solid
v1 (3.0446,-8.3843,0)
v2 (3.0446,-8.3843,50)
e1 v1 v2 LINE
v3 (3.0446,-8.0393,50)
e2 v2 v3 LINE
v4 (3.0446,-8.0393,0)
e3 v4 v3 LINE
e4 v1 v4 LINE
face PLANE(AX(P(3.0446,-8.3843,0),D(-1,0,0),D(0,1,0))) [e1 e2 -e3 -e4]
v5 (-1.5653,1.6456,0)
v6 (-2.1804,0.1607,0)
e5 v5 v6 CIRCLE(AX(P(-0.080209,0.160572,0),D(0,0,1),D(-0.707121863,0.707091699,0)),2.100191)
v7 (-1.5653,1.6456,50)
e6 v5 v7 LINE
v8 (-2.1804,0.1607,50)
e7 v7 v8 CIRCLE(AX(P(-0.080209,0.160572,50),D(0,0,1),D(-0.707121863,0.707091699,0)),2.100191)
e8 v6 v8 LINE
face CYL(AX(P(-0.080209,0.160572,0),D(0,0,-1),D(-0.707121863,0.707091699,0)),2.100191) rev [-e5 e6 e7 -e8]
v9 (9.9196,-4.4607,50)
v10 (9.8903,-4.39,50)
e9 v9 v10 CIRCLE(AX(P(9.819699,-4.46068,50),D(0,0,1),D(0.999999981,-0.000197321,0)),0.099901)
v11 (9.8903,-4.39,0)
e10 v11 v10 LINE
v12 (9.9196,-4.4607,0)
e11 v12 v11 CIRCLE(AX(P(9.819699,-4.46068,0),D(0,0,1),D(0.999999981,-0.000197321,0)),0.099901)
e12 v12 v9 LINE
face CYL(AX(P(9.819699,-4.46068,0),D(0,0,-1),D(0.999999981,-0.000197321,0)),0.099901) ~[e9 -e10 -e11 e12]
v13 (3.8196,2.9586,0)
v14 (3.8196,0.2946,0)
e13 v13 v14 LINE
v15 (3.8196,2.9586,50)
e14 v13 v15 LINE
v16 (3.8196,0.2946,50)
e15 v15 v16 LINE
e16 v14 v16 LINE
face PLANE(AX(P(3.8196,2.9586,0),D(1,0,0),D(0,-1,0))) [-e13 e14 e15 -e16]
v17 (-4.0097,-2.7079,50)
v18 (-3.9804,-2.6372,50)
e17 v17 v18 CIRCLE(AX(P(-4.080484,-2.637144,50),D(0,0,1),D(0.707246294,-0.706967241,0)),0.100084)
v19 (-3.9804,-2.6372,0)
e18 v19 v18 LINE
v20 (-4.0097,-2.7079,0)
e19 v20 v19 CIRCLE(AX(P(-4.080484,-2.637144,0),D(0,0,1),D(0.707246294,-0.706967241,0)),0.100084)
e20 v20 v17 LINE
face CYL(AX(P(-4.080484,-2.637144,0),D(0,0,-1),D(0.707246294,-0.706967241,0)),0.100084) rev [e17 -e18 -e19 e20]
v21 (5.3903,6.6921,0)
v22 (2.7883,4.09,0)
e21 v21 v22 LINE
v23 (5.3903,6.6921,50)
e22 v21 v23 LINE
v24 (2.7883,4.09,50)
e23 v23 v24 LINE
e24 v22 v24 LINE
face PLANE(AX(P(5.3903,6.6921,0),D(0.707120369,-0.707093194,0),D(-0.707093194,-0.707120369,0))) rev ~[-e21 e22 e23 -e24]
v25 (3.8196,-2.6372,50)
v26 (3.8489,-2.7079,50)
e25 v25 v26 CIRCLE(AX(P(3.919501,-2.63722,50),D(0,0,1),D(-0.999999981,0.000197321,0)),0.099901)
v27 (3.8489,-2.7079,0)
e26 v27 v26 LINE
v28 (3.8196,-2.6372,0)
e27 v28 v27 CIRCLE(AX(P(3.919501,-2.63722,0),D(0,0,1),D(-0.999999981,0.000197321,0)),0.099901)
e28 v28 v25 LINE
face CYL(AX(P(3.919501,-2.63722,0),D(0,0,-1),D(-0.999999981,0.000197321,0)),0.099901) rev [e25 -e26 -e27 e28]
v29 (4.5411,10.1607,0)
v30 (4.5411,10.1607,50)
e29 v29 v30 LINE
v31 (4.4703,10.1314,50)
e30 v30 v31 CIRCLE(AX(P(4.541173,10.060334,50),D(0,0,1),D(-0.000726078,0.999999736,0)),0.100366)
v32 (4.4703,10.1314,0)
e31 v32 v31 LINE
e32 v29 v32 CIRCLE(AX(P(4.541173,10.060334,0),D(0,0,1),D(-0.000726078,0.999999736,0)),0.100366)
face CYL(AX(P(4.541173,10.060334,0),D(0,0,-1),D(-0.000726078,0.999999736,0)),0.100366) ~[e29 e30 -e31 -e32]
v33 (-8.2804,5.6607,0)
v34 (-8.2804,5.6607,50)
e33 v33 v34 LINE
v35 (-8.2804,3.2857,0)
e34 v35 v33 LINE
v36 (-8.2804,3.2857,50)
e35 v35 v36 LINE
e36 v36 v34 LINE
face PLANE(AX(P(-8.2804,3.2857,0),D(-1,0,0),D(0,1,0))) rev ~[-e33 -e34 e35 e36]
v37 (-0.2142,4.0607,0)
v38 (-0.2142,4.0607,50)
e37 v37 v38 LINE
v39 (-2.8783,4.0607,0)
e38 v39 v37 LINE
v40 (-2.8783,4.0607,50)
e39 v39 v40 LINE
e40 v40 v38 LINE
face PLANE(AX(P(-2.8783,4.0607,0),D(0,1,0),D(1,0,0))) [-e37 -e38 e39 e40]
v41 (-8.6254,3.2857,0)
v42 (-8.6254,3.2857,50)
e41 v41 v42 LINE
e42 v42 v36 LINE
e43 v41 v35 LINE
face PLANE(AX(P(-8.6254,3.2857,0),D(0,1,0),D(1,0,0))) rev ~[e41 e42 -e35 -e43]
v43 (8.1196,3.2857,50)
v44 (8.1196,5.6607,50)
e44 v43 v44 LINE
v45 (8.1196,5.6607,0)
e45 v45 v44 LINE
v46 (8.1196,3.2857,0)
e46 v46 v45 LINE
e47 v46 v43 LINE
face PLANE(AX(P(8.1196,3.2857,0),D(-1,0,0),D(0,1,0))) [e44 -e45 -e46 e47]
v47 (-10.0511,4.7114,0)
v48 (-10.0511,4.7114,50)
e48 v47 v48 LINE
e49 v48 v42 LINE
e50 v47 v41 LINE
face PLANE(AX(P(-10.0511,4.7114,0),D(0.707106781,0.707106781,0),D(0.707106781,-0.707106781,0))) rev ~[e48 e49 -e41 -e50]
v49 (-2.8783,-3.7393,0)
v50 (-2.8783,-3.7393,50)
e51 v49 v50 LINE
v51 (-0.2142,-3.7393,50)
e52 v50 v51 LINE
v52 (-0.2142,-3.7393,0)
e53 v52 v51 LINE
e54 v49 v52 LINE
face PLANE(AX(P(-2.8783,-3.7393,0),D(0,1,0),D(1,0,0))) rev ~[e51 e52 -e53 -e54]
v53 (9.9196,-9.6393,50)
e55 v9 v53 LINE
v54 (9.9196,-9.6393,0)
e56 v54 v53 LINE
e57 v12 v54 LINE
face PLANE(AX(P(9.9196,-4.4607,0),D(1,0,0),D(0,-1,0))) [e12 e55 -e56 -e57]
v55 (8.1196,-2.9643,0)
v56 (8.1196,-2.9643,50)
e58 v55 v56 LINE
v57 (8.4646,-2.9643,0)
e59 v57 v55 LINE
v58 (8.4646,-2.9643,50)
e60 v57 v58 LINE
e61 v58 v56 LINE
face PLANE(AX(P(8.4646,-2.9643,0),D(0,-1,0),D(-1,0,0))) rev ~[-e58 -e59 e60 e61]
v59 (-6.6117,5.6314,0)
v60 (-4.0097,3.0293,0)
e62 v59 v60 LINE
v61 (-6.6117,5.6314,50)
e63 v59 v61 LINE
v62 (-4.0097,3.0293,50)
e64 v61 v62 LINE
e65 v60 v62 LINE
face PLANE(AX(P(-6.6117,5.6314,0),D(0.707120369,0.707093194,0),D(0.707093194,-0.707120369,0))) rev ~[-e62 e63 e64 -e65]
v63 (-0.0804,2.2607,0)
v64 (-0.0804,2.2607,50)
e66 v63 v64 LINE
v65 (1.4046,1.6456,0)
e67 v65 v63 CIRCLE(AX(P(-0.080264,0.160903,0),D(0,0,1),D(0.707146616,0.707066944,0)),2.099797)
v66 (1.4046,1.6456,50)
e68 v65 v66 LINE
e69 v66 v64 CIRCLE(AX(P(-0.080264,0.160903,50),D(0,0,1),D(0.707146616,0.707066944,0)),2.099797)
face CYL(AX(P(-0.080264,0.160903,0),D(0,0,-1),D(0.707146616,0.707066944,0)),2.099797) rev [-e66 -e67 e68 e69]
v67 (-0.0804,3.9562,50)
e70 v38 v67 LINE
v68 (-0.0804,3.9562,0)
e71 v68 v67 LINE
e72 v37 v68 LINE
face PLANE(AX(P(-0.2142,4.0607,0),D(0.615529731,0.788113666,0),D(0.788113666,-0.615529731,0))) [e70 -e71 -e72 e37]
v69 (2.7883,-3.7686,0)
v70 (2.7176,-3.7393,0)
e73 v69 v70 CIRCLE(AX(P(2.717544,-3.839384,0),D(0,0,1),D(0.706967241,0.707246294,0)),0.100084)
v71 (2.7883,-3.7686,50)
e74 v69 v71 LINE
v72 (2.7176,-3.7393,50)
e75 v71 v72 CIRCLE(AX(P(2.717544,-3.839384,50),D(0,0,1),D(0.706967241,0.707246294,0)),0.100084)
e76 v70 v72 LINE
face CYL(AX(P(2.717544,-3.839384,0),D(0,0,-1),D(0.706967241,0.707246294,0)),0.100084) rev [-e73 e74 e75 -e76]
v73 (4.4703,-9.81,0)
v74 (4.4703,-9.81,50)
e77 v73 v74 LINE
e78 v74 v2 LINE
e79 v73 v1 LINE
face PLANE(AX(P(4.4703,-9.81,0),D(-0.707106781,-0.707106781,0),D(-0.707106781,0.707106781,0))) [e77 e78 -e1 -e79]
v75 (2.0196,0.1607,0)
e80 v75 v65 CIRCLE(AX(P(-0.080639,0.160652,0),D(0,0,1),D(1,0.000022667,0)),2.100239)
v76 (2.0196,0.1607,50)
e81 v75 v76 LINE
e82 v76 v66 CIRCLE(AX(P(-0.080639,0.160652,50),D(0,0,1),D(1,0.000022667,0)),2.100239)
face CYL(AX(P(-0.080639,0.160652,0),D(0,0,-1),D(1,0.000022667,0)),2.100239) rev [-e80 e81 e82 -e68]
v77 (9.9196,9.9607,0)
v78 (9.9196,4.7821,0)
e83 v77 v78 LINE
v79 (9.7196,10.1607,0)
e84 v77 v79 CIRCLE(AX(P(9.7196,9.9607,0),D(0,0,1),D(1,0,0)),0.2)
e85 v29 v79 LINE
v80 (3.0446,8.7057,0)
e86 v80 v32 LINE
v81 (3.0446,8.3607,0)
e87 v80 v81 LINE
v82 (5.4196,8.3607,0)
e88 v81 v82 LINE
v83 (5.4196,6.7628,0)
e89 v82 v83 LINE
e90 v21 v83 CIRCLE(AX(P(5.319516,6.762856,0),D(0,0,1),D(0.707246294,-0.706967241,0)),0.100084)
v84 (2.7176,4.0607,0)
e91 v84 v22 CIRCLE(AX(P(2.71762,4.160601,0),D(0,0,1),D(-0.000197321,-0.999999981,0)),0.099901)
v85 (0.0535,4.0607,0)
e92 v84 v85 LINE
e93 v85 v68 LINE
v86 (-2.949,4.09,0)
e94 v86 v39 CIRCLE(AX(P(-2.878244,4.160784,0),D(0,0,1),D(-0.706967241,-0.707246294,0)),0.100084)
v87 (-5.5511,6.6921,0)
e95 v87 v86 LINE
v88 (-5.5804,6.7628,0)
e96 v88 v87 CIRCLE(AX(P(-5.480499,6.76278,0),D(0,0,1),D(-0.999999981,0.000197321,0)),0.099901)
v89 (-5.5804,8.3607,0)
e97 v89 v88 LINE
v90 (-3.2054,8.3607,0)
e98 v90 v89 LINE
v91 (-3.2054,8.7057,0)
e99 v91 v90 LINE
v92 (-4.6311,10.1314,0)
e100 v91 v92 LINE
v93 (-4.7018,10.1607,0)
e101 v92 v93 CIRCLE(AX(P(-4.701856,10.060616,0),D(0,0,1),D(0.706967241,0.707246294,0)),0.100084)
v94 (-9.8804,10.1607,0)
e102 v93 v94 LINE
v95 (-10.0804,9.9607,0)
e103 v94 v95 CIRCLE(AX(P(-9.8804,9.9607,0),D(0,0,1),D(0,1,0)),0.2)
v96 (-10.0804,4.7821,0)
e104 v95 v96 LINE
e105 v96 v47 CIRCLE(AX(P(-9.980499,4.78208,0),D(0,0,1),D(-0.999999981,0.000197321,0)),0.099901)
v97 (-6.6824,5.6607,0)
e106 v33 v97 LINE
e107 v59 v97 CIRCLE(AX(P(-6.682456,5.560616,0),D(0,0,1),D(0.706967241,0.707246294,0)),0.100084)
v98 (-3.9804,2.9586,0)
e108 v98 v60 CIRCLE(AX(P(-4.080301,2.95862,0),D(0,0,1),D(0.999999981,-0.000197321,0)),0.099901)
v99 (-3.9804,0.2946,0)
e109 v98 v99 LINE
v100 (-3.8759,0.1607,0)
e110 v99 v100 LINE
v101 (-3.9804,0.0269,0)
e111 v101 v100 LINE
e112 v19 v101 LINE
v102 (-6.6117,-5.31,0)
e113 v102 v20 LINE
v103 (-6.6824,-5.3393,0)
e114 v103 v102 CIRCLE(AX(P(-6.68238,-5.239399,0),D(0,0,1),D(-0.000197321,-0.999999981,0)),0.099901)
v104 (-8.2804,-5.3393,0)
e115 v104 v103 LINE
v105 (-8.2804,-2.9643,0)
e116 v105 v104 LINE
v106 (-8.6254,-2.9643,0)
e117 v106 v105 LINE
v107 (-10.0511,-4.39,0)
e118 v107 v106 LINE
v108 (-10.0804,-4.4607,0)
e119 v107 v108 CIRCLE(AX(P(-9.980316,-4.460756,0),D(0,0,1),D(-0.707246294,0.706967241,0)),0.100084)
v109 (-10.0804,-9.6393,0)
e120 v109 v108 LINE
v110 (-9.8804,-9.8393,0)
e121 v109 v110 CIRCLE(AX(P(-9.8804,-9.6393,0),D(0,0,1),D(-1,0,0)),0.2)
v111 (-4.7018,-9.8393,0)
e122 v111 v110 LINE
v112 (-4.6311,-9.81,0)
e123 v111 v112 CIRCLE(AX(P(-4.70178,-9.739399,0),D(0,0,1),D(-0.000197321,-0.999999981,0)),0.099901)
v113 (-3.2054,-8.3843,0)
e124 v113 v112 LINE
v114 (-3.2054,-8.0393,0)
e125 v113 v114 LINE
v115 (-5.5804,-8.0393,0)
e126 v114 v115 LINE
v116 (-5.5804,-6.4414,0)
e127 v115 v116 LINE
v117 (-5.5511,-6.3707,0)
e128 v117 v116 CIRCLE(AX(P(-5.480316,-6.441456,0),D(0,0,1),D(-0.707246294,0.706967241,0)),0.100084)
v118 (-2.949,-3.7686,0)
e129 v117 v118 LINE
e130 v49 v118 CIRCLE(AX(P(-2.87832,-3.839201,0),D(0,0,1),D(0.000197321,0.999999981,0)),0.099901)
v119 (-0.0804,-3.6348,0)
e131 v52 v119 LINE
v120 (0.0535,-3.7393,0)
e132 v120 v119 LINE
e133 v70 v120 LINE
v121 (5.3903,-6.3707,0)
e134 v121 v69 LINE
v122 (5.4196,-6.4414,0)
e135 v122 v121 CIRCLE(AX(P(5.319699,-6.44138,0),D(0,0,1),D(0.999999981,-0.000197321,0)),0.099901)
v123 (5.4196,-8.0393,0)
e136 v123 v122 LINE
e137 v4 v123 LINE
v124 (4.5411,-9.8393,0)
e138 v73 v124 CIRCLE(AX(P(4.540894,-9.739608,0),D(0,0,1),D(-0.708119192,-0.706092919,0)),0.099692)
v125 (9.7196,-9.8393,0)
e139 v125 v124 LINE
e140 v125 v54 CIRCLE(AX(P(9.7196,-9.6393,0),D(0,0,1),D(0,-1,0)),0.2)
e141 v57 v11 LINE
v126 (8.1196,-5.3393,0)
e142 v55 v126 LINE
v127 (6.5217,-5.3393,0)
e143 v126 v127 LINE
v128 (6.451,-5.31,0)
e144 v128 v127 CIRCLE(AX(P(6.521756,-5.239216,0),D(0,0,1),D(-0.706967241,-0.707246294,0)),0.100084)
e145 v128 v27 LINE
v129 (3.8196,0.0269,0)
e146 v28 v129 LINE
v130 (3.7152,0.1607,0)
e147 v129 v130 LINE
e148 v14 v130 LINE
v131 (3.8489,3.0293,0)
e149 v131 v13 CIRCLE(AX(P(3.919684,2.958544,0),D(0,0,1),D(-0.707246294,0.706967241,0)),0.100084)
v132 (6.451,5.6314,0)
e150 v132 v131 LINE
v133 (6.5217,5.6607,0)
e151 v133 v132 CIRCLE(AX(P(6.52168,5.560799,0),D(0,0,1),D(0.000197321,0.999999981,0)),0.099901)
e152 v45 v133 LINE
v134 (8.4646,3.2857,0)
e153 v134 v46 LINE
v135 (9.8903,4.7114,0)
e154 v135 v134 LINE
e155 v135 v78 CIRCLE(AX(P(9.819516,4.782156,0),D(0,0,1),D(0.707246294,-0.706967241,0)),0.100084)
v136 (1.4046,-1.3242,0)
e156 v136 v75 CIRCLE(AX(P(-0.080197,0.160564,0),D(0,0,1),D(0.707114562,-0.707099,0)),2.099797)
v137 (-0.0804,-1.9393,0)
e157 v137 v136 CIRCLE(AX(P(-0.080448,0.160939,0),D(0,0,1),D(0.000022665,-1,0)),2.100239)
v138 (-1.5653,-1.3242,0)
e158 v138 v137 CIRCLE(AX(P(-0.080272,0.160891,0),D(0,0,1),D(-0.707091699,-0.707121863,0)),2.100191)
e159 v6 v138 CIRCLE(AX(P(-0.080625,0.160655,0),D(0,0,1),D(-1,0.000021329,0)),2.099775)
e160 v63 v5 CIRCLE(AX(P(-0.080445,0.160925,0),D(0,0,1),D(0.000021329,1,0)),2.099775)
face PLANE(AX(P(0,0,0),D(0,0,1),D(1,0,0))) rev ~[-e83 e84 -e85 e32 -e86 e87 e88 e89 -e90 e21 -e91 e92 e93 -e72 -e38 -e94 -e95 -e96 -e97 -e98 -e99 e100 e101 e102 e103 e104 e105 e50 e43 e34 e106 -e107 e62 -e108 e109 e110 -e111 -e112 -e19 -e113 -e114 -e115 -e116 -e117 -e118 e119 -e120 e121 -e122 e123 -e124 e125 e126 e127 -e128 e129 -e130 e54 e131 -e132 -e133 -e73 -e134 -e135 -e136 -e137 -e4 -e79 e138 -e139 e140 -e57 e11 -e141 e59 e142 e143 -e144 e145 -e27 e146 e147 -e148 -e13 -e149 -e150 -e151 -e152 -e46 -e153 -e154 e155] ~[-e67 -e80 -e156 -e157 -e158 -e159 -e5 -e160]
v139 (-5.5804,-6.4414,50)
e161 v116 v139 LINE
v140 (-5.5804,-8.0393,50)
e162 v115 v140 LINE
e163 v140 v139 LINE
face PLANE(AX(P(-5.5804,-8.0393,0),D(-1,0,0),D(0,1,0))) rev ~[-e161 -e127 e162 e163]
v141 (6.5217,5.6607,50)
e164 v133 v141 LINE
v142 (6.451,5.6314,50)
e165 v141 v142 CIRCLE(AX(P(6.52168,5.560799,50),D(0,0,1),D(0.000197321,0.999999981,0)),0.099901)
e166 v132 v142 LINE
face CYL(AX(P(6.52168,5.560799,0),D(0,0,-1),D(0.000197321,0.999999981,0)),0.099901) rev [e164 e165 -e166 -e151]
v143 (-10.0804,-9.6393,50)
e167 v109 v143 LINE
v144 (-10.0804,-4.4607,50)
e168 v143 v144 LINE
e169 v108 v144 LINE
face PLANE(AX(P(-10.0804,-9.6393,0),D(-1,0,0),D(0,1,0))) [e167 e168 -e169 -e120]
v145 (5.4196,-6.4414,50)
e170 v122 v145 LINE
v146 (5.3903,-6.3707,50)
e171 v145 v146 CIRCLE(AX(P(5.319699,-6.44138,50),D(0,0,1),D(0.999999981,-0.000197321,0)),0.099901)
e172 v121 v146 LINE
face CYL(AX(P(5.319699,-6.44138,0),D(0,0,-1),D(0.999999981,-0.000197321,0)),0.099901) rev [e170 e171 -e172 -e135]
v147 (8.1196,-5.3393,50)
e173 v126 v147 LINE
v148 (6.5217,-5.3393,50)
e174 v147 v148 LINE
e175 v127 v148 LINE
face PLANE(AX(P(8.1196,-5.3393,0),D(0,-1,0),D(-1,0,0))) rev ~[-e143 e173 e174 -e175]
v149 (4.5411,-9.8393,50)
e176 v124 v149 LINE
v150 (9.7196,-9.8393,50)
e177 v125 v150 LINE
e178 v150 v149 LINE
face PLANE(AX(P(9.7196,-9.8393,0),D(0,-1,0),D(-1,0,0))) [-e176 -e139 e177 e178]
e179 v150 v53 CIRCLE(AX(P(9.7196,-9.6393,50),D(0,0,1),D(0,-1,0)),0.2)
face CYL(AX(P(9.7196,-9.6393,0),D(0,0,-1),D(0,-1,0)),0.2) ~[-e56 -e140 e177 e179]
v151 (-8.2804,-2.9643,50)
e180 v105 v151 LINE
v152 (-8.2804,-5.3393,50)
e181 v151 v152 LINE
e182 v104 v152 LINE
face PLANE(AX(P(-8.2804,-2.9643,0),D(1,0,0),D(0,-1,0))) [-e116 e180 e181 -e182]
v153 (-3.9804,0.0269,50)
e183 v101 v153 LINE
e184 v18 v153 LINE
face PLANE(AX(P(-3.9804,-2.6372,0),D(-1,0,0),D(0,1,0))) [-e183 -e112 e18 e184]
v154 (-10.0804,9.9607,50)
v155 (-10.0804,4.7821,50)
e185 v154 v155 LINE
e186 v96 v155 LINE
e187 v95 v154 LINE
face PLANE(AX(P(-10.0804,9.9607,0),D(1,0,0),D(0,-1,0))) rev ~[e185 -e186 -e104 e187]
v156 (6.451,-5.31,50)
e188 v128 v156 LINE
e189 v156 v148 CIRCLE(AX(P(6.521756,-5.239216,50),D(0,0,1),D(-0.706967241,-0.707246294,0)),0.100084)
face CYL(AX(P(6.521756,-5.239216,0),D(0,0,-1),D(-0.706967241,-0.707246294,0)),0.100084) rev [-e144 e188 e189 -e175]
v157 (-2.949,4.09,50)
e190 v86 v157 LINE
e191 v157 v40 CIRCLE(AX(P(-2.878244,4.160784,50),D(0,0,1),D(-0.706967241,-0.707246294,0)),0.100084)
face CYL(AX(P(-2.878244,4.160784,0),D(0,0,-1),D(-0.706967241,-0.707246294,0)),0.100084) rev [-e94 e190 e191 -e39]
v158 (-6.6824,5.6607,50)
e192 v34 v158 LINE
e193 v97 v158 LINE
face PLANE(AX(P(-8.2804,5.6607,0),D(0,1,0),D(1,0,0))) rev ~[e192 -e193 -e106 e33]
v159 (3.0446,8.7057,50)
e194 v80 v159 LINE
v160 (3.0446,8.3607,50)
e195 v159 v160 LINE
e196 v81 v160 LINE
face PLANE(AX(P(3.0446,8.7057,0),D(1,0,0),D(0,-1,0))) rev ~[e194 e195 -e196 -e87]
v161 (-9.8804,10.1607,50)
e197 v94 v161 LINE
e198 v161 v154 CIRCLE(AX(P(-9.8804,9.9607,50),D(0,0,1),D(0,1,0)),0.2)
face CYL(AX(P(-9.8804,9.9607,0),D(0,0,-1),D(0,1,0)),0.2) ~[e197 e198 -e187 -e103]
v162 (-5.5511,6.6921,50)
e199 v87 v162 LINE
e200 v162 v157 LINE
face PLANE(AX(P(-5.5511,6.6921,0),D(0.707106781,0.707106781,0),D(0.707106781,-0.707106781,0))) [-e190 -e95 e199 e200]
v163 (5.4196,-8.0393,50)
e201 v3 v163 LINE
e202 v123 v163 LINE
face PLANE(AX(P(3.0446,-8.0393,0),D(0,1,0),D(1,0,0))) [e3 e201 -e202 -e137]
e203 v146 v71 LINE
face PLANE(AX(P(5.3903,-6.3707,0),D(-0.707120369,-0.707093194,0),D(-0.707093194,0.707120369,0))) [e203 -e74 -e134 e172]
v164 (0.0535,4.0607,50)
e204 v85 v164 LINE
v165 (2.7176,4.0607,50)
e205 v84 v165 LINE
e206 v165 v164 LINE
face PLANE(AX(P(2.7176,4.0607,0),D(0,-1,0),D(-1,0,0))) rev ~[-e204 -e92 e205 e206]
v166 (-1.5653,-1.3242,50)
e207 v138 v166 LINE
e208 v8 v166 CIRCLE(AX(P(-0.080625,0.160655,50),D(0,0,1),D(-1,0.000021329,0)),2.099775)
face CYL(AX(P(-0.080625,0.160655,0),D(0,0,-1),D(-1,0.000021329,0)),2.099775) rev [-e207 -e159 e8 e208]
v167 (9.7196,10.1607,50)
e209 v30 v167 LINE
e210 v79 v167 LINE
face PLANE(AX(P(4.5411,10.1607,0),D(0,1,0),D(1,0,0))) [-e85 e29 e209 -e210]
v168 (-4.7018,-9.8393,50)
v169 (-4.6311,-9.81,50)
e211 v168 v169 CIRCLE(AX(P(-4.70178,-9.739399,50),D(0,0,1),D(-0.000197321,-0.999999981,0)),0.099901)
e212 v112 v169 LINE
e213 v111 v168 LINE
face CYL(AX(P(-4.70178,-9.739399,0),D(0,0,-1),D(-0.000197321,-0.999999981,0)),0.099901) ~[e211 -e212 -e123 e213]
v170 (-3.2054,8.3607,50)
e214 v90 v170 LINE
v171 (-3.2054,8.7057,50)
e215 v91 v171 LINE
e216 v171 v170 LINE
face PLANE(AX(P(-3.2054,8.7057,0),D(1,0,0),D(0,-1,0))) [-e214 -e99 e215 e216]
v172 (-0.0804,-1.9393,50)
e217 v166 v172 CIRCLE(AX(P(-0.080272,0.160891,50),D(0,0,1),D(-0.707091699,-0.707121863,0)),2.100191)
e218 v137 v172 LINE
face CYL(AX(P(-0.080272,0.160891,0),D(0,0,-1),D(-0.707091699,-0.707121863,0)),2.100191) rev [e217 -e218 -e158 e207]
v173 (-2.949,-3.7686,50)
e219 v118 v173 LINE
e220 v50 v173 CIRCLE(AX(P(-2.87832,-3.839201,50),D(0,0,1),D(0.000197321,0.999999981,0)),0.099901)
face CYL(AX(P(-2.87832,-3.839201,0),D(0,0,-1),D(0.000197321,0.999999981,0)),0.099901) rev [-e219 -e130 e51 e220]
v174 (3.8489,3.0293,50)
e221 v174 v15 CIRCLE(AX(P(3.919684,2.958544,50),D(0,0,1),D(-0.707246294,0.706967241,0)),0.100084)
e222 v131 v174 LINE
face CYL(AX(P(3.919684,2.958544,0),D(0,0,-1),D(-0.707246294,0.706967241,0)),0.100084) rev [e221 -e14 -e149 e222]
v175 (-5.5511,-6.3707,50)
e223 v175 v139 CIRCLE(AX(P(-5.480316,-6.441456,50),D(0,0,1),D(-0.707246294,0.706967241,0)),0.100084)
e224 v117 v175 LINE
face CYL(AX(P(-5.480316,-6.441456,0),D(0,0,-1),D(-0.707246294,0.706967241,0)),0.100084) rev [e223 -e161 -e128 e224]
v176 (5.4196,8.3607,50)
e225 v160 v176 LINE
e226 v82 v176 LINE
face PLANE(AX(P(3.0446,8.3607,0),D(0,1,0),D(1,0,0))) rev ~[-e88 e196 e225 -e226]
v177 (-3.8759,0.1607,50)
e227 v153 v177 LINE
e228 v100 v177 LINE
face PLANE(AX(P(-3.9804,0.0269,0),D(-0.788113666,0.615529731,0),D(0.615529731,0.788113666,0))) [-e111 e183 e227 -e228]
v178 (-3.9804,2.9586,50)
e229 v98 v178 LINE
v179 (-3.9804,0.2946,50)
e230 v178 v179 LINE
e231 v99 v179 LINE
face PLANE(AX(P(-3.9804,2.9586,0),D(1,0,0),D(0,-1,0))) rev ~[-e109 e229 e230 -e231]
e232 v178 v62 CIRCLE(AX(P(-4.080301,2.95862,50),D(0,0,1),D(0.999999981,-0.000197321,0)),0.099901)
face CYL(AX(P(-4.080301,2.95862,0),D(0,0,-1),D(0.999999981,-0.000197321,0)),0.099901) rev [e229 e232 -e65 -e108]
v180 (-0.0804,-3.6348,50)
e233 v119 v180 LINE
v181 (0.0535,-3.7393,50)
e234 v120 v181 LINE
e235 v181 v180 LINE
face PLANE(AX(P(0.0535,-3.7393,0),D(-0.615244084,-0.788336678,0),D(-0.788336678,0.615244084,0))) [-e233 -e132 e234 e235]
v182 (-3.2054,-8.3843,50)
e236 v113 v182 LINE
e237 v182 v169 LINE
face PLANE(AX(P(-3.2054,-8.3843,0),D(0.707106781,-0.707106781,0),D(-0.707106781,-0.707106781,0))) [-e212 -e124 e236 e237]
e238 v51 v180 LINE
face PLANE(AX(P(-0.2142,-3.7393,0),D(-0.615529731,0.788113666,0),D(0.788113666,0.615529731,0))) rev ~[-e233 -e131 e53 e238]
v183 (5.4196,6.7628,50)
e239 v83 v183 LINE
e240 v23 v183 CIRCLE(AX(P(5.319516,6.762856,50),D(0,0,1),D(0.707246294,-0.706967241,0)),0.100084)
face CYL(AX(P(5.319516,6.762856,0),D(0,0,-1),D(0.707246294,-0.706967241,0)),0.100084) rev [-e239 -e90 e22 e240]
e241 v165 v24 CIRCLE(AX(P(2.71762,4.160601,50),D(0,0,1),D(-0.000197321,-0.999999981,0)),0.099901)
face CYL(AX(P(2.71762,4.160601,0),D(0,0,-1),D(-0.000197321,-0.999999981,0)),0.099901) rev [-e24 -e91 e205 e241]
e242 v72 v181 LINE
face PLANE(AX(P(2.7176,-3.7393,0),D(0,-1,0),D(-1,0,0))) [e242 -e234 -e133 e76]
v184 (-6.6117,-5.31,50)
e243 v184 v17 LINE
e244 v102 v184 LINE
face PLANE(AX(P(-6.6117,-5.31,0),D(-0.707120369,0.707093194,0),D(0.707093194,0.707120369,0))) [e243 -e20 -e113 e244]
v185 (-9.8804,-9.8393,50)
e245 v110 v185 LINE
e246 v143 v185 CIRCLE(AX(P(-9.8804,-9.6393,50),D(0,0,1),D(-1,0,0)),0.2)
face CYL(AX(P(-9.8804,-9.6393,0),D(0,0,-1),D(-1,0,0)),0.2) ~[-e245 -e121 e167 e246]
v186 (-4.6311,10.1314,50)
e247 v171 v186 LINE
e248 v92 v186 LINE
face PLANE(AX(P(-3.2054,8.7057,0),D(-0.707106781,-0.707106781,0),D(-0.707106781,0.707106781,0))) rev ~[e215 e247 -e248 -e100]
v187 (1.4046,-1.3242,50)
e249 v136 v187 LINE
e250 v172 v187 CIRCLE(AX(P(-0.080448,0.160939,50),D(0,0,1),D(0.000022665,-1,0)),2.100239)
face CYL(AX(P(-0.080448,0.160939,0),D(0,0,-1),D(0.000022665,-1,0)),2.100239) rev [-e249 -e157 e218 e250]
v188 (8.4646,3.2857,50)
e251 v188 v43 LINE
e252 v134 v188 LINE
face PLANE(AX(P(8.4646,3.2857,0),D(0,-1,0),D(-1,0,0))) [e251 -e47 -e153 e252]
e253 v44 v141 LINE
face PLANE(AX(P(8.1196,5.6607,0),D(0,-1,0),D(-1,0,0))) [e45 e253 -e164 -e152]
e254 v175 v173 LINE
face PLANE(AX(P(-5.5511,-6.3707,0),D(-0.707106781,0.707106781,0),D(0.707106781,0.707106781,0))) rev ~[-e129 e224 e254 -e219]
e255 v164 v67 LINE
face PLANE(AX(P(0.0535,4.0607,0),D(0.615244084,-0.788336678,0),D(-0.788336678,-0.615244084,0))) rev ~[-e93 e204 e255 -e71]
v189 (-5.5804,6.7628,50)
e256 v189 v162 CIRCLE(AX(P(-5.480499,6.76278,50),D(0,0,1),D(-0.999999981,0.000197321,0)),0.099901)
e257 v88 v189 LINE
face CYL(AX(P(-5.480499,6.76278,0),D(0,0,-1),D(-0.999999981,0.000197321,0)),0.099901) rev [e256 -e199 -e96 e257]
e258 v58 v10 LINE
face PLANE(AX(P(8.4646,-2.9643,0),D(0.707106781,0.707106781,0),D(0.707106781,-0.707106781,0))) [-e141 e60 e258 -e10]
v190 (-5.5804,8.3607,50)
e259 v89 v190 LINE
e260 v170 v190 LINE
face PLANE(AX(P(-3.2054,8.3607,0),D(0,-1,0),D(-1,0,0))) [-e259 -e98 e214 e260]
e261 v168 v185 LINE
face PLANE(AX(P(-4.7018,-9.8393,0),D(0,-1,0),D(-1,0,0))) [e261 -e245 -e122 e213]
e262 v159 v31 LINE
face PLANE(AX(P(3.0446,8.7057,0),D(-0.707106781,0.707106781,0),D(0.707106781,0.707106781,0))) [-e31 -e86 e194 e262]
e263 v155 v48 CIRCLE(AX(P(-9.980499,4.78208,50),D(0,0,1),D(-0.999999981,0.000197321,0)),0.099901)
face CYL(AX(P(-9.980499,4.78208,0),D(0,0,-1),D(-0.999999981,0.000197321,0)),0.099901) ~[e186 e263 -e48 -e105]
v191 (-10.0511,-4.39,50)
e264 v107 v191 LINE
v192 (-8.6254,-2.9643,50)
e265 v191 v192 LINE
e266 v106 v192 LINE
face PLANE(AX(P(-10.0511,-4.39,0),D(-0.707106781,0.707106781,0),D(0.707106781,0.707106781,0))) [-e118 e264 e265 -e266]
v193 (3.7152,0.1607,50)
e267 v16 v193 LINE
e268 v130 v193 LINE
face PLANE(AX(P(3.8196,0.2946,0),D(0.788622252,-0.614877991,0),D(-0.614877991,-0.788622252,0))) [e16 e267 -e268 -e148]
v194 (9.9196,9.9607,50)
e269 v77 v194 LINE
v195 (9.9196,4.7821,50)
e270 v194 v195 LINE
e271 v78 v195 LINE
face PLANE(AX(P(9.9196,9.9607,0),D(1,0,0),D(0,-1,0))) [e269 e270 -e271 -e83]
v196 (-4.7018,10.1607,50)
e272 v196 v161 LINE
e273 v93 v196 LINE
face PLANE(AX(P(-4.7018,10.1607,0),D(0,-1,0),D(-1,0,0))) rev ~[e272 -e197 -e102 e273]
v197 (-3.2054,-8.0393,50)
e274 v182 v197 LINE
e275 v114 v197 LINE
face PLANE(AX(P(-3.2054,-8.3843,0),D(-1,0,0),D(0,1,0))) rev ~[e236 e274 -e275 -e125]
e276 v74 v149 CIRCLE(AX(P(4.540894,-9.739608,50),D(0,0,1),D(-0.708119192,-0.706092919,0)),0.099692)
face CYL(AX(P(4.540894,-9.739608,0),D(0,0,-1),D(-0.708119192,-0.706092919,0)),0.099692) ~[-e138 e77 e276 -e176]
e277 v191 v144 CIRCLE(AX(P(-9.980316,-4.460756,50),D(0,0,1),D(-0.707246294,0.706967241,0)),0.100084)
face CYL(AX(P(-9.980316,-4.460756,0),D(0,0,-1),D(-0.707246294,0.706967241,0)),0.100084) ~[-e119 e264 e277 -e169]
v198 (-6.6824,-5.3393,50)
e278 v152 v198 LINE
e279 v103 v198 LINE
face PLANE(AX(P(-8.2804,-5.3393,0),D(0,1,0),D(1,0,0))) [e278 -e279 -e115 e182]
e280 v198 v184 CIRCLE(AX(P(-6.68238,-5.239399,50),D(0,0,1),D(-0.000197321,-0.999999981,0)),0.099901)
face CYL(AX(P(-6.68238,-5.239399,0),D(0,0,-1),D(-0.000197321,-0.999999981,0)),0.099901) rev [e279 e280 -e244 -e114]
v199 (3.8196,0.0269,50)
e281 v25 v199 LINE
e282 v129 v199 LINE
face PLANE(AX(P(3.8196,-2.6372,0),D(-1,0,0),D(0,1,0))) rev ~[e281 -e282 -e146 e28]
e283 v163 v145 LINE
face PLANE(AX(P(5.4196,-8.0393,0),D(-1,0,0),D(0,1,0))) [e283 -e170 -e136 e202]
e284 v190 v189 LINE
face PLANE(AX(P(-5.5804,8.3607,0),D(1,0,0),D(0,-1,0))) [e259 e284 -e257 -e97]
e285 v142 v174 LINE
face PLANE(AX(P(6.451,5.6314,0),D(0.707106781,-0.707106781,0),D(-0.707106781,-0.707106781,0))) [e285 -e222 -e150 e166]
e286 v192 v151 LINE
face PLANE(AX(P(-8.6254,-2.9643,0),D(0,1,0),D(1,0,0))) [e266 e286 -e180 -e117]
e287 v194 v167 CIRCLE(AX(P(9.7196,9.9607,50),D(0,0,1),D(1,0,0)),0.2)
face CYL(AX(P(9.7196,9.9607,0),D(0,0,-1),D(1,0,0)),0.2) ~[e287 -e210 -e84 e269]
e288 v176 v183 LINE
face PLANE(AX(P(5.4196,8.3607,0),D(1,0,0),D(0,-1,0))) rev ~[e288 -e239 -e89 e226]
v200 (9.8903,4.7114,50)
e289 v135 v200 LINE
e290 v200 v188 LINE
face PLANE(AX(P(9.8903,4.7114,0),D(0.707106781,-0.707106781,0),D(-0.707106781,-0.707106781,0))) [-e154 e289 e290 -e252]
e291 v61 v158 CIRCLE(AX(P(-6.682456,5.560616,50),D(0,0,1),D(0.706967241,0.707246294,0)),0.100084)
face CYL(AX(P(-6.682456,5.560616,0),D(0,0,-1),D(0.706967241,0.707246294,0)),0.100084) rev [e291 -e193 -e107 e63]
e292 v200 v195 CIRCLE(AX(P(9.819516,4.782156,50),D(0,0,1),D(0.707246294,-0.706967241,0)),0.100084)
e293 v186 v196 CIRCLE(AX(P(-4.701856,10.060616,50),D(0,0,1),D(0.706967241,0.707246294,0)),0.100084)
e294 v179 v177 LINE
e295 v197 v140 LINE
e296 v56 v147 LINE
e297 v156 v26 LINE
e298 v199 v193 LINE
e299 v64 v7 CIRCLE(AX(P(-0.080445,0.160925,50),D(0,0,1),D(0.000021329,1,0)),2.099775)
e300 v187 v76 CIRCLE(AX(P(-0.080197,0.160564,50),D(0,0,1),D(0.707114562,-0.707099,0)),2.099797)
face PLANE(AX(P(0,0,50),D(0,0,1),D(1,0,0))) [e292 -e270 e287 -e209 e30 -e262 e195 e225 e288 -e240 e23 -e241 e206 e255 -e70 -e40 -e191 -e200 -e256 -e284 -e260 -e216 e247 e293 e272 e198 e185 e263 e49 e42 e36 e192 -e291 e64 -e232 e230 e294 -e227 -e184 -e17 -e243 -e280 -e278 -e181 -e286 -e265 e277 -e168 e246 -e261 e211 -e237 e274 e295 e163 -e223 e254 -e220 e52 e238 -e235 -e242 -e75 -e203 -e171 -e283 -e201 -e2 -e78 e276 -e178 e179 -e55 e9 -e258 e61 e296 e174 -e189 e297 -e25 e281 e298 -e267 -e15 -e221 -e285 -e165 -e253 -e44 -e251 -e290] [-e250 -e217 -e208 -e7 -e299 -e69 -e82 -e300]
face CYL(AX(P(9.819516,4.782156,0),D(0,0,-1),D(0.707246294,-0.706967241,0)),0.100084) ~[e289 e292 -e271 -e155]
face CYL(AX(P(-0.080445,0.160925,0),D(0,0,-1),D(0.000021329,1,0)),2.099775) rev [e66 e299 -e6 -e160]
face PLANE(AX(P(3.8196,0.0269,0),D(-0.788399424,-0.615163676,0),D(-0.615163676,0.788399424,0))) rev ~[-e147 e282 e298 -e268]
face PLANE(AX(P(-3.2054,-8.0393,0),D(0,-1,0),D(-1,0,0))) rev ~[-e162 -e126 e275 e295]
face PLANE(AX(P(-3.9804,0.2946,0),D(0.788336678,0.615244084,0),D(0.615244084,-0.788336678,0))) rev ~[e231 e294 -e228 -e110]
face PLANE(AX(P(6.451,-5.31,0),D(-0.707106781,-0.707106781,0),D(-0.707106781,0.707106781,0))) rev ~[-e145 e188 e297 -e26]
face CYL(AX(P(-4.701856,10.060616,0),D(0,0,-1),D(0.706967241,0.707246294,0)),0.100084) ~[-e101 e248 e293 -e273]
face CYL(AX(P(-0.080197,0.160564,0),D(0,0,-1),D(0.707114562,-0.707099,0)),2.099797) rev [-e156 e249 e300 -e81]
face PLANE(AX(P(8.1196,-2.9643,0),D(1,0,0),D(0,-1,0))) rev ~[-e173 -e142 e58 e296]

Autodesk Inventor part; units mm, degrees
ref_plane "YZ Plane" through (0, 0, 0) normal (1, 0, 0) x (0, 1, 0)
ref_plane "XZ Plane" through (0, 0, 0) normal (0, 1, 0) x (-1, 0, 0)
ref_plane "XY Plane" through (0, 0, 0) normal (0, 0, 1) x (1, 0, 0)
sketch "Sketch1" plane through (0, 0, 0) normal (0, 0, 1) x (1, 0, 0)
  line L0 (-3.2054, 8.7057) -> (-4.6311, 10.1314)
  arc A0 (-4.6311, 10.1314) -> (-4.7018, 10.1607) centre (-4.7018, 10.0607) ccw
  line L1 (-4.7018, 10.1607) -> (-9.8804, 10.1607)
  arc A1 (-9.8804, 10.1607) -> (-10.0804, 9.9607) centre (-9.8804, 9.9607) ccw
  line L2 (-10.0804, 9.9607) -> (-10.0804, 4.7821)
  arc A2 (-10.0804, 4.7821) -> (-10.0511, 4.7114) centre (-9.9804, 4.7821) ccw
  line L3 (-10.0511, 4.7114) -> (-8.6254, 3.2857)
  line L4 (-3.2054, 8.3607) -> (-5.5804, 8.3607)
  arc A3 (-0.0804, 2.2607) -> (-1.5653, 1.6456) centre (-0.0804, 0.1607) ccw
  line L5 (-5.5804, 8.3607) -> (-5.5804, 6.7628)
  arc A4 (-5.5804, 6.7628) -> (-5.5511, 6.6921) centre (-5.4804, 6.7628) ccw
  line L6 (-5.5511, 6.6921) -> (-2.949, 4.09)
  arc A5 (-2.949, 4.09) -> (-2.8783, 4.0607) centre (-2.8783, 4.1607) ccw
  line L7 (-2.8783, 4.0607) -> (-0.2142, 4.0607)
  line L8 (-3.2054, 8.7057) -> (-3.2054, 8.3607)
  line L9 (3.0446, 8.7057) -> (4.4703, 10.1314)
  arc A6 (4.5411, 10.1607) -> (4.4703, 10.1314) centre (4.5411, 10.0607) ccw
  line L10 (4.5411, 10.1607) -> (9.7196, 10.1607)
  arc A7 (9.9196, 9.9607) -> (9.7196, 10.1607) centre (9.7196, 9.9607) ccw
  line L11 (9.9196, 9.9607) -> (9.9196, 4.7821)
  arc A8 (9.8903, 4.7114) -> (9.9196, 4.7821) centre (9.8196, 4.7821) ccw
  line L12 (9.8903, 4.7114) -> (8.4646, 3.2857)
  line L13 (3.0446, 8.3607) -> (5.4196, 8.3607)
  arc A9 (1.4046, 1.6456) -> (-0.0804, 2.2607) centre (-0.0804, 0.1607) ccw
  line L14 (5.4196, 8.3607) -> (5.4196, 6.7628)
  arc A10 (5.3903, 6.6921) -> (5.4196, 6.7628) centre (5.3196, 6.7628) ccw
  line L15 (5.3903, 6.6921) -> (2.7883, 4.09)
  arc A11 (2.7176, 4.0607) -> (2.7883, 4.09) centre (2.7176, 4.1607) ccw
  line L16 (2.7176, 4.0607) -> (0.0535, 4.0607)
  line L17 (3.0446, 8.7057) -> (3.0446, 8.3607)
  line L18 (-0.2142, 4.0607) -> (-0.0804, 3.9562)
  line L19 (0.0535, 4.0607) -> (-0.0804, 3.9562)
  line L20 (8.1196, 3.2857) -> (8.1196, 5.6607)
  arc A12 (2.0196, 0.1607) -> (1.4046, 1.6456) centre (-0.0804, 0.1607) ccw
  line L21 (8.1196, 5.6607) -> (6.5217, 5.6607)
  arc A13 (6.5217, 5.6607) -> (6.451, 5.6314) centre (6.5217, 5.5607) ccw
  line L22 (6.451, 5.6314) -> (3.8489, 3.0293)
  arc A14 (3.8489, 3.0293) -> (3.8196, 2.9586) centre (3.9196, 2.9586) ccw
  line L23 (3.8196, 2.9586) -> (3.8196, 0.2946)
  line L24 (8.4646, 3.2857) -> (8.1196, 3.2857)
  line L25 (-8.2804, 3.2857) -> (-8.2804, 5.6607)
  arc A15 (-1.5653, 1.6456) -> (-2.1804, 0.1607) centre (-0.0804, 0.1607) ccw
  line L26 (-8.2804, 5.6607) -> (-6.6824, 5.6607)
  arc A16 (-6.6117, 5.6314) -> (-6.6824, 5.6607) centre (-6.6824, 5.5607) ccw
  line L27 (-6.6117, 5.6314) -> (-4.0097, 3.0293)
  arc A17 (-3.9804, 2.9586) -> (-4.0097, 3.0293) centre (-4.0804, 2.9586) ccw
  line L28 (-3.9804, 2.9586) -> (-3.9804, 0.2946)
  line L29 (-8.6254, 3.2857) -> (-8.2804, 3.2857)
  line L30 (-3.2054, -8.3843) -> (-4.6311, -9.81)
  arc A18 (-4.7018, -9.8393) -> (-4.6311, -9.81) centre (-4.7018, -9.7393) ccw
  line L31 (-4.7018, -9.8393) -> (-9.8804, -9.8393)
  arc A19 (-10.0804, -9.6393) -> (-9.8804, -9.8393) centre (-9.8804, -9.6393) ccw
  line L32 (-10.0804, -9.6393) -> (-10.0804, -4.4607)
  arc A20 (-10.0511, -4.39) -> (-10.0804, -4.4607) centre (-9.9804, -4.4607) ccw
  line L33 (-10.0511, -4.39) -> (-8.6254, -2.9643)
  line L34 (-3.2054, -8.0393) -> (-5.5804, -8.0393)
  arc A21 (-1.5653, -1.3242) -> (-0.0804, -1.9393) centre (-0.0804, 0.1607) ccw
  line L35 (-5.5804, -8.0393) -> (-5.5804, -6.4414)
  arc A22 (-5.5511, -6.3707) -> (-5.5804, -6.4414) centre (-5.4804, -6.4414) ccw
  line L36 (-5.5511, -6.3707) -> (-2.949, -3.7686)
  arc A23 (-2.8783, -3.7393) -> (-2.949, -3.7686) centre (-2.8783, -3.8393) ccw
  line L37 (-2.8783, -3.7393) -> (-0.2142, -3.7393)
  line L38 (-3.2054, -8.3843) -> (-3.2054, -8.0393)
  line L39 (3.0446, -8.0393) -> (5.4196, -8.0393)
  arc A24 (-0.0804, -1.9393) -> (1.4046, -1.3242) centre (-0.0804, 0.1607) ccw
  line L40 (5.4196, -8.0393) -> (5.4196, -6.4414)
  arc A25 (5.4196, -6.4414) -> (5.3903, -6.3707) centre (5.3196, -6.4414) ccw
  line L41 (5.3903, -6.3707) -> (2.7883, -3.7686)
  arc A26 (2.7883, -3.7686) -> (2.7176, -3.7393) centre (2.7176, -3.8393) ccw
  line L42 (2.7176, -3.7393) -> (0.0535, -3.7393)
  line L43 (3.0446, -8.3843) -> (3.0446, -8.0393)
  line L44 (-0.2142, -3.7393) -> (-0.0804, -3.6348)
  line L45 (0.0535, -3.7393) -> (-0.0804, -3.6348)
  line L46 (8.4646, -2.9643) -> (9.8903, -4.39)
  arc A27 (9.9196, -4.4607) -> (9.8903, -4.39) centre (9.8196, -4.4607) ccw
  line L47 (9.9196, -4.4607) -> (9.9196, -9.6393)
  arc A28 (9.7196, -9.8393) -> (9.9196, -9.6393) centre (9.7196, -9.6393) ccw
  line L48 (9.7196, -9.8393) -> (4.5411, -9.8393)
  arc A29 (4.4703, -9.81) -> (4.5411, -9.8393) centre (4.5411, -9.7393) ccw
  line L49 (4.4703, -9.81) -> (3.0446, -8.3843)
  line L50 (8.1196, -2.9643) -> (8.1196, -5.3393)
  arc A30 (1.4046, -1.3242) -> (2.0196, 0.1607) centre (-0.0804, 0.1607) ccw
  line L51 (8.1196, -5.3393) -> (6.5217, -5.3393)
  arc A31 (6.451, -5.31) -> (6.5217, -5.3393) centre (6.5217, -5.2393) ccw
  line L52 (6.451, -5.31) -> (3.8489, -2.7079)
  arc A32 (3.8196, -2.6372) -> (3.8489, -2.7079) centre (3.9196, -2.6372) ccw
  line L53 (3.8196, -2.6372) -> (3.8196, 0.0269)
  line L54 (8.4646, -2.9643) -> (8.1196, -2.9643)
  line L55 (-8.2804, -2.9643) -> (-8.2804, -5.3393)
  arc A33 (-2.1804, 0.1607) -> (-1.5653, -1.3242) centre (-0.0804, 0.1607) ccw
  line L56 (-8.2804, -5.3393) -> (-6.6824, -5.3393)
  arc A34 (-6.6824, -5.3393) -> (-6.6117, -5.31) centre (-6.6824, -5.2393) ccw
  line L57 (-6.6117, -5.31) -> (-4.0097, -2.7079)
  arc A35 (-4.0097, -2.7079) -> (-3.9804, -2.6372) centre (-4.0804, -2.6372) ccw
  line L58 (-3.9804, -2.6372) -> (-3.9804, 0.0269)
  line L59 (-8.6254, -2.9643) -> (-8.2804, -2.9643)
  line L60 (-3.9804, 0.0269) -> (-3.8759, 0.1607)
  line L61 (-3.9804, 0.2946) -> (-3.8759, 0.1607)
  line L62 (0.0535, -3.7393) -> (-0.0804, -3.6348)
  line L63 (-0.2142, -3.7393) -> (-0.0804, -3.6348)
  line L64 (3.8196, 0.2946) -> (3.7152, 0.1607)
  line L65 (3.8196, 0.0269) -> (3.7152, 0.1607)
  point P0 (0, 0)
extrude "Extrusion1" add sketch "Sketch1" along normal blind 50
properties part number "Vslot_2020"
